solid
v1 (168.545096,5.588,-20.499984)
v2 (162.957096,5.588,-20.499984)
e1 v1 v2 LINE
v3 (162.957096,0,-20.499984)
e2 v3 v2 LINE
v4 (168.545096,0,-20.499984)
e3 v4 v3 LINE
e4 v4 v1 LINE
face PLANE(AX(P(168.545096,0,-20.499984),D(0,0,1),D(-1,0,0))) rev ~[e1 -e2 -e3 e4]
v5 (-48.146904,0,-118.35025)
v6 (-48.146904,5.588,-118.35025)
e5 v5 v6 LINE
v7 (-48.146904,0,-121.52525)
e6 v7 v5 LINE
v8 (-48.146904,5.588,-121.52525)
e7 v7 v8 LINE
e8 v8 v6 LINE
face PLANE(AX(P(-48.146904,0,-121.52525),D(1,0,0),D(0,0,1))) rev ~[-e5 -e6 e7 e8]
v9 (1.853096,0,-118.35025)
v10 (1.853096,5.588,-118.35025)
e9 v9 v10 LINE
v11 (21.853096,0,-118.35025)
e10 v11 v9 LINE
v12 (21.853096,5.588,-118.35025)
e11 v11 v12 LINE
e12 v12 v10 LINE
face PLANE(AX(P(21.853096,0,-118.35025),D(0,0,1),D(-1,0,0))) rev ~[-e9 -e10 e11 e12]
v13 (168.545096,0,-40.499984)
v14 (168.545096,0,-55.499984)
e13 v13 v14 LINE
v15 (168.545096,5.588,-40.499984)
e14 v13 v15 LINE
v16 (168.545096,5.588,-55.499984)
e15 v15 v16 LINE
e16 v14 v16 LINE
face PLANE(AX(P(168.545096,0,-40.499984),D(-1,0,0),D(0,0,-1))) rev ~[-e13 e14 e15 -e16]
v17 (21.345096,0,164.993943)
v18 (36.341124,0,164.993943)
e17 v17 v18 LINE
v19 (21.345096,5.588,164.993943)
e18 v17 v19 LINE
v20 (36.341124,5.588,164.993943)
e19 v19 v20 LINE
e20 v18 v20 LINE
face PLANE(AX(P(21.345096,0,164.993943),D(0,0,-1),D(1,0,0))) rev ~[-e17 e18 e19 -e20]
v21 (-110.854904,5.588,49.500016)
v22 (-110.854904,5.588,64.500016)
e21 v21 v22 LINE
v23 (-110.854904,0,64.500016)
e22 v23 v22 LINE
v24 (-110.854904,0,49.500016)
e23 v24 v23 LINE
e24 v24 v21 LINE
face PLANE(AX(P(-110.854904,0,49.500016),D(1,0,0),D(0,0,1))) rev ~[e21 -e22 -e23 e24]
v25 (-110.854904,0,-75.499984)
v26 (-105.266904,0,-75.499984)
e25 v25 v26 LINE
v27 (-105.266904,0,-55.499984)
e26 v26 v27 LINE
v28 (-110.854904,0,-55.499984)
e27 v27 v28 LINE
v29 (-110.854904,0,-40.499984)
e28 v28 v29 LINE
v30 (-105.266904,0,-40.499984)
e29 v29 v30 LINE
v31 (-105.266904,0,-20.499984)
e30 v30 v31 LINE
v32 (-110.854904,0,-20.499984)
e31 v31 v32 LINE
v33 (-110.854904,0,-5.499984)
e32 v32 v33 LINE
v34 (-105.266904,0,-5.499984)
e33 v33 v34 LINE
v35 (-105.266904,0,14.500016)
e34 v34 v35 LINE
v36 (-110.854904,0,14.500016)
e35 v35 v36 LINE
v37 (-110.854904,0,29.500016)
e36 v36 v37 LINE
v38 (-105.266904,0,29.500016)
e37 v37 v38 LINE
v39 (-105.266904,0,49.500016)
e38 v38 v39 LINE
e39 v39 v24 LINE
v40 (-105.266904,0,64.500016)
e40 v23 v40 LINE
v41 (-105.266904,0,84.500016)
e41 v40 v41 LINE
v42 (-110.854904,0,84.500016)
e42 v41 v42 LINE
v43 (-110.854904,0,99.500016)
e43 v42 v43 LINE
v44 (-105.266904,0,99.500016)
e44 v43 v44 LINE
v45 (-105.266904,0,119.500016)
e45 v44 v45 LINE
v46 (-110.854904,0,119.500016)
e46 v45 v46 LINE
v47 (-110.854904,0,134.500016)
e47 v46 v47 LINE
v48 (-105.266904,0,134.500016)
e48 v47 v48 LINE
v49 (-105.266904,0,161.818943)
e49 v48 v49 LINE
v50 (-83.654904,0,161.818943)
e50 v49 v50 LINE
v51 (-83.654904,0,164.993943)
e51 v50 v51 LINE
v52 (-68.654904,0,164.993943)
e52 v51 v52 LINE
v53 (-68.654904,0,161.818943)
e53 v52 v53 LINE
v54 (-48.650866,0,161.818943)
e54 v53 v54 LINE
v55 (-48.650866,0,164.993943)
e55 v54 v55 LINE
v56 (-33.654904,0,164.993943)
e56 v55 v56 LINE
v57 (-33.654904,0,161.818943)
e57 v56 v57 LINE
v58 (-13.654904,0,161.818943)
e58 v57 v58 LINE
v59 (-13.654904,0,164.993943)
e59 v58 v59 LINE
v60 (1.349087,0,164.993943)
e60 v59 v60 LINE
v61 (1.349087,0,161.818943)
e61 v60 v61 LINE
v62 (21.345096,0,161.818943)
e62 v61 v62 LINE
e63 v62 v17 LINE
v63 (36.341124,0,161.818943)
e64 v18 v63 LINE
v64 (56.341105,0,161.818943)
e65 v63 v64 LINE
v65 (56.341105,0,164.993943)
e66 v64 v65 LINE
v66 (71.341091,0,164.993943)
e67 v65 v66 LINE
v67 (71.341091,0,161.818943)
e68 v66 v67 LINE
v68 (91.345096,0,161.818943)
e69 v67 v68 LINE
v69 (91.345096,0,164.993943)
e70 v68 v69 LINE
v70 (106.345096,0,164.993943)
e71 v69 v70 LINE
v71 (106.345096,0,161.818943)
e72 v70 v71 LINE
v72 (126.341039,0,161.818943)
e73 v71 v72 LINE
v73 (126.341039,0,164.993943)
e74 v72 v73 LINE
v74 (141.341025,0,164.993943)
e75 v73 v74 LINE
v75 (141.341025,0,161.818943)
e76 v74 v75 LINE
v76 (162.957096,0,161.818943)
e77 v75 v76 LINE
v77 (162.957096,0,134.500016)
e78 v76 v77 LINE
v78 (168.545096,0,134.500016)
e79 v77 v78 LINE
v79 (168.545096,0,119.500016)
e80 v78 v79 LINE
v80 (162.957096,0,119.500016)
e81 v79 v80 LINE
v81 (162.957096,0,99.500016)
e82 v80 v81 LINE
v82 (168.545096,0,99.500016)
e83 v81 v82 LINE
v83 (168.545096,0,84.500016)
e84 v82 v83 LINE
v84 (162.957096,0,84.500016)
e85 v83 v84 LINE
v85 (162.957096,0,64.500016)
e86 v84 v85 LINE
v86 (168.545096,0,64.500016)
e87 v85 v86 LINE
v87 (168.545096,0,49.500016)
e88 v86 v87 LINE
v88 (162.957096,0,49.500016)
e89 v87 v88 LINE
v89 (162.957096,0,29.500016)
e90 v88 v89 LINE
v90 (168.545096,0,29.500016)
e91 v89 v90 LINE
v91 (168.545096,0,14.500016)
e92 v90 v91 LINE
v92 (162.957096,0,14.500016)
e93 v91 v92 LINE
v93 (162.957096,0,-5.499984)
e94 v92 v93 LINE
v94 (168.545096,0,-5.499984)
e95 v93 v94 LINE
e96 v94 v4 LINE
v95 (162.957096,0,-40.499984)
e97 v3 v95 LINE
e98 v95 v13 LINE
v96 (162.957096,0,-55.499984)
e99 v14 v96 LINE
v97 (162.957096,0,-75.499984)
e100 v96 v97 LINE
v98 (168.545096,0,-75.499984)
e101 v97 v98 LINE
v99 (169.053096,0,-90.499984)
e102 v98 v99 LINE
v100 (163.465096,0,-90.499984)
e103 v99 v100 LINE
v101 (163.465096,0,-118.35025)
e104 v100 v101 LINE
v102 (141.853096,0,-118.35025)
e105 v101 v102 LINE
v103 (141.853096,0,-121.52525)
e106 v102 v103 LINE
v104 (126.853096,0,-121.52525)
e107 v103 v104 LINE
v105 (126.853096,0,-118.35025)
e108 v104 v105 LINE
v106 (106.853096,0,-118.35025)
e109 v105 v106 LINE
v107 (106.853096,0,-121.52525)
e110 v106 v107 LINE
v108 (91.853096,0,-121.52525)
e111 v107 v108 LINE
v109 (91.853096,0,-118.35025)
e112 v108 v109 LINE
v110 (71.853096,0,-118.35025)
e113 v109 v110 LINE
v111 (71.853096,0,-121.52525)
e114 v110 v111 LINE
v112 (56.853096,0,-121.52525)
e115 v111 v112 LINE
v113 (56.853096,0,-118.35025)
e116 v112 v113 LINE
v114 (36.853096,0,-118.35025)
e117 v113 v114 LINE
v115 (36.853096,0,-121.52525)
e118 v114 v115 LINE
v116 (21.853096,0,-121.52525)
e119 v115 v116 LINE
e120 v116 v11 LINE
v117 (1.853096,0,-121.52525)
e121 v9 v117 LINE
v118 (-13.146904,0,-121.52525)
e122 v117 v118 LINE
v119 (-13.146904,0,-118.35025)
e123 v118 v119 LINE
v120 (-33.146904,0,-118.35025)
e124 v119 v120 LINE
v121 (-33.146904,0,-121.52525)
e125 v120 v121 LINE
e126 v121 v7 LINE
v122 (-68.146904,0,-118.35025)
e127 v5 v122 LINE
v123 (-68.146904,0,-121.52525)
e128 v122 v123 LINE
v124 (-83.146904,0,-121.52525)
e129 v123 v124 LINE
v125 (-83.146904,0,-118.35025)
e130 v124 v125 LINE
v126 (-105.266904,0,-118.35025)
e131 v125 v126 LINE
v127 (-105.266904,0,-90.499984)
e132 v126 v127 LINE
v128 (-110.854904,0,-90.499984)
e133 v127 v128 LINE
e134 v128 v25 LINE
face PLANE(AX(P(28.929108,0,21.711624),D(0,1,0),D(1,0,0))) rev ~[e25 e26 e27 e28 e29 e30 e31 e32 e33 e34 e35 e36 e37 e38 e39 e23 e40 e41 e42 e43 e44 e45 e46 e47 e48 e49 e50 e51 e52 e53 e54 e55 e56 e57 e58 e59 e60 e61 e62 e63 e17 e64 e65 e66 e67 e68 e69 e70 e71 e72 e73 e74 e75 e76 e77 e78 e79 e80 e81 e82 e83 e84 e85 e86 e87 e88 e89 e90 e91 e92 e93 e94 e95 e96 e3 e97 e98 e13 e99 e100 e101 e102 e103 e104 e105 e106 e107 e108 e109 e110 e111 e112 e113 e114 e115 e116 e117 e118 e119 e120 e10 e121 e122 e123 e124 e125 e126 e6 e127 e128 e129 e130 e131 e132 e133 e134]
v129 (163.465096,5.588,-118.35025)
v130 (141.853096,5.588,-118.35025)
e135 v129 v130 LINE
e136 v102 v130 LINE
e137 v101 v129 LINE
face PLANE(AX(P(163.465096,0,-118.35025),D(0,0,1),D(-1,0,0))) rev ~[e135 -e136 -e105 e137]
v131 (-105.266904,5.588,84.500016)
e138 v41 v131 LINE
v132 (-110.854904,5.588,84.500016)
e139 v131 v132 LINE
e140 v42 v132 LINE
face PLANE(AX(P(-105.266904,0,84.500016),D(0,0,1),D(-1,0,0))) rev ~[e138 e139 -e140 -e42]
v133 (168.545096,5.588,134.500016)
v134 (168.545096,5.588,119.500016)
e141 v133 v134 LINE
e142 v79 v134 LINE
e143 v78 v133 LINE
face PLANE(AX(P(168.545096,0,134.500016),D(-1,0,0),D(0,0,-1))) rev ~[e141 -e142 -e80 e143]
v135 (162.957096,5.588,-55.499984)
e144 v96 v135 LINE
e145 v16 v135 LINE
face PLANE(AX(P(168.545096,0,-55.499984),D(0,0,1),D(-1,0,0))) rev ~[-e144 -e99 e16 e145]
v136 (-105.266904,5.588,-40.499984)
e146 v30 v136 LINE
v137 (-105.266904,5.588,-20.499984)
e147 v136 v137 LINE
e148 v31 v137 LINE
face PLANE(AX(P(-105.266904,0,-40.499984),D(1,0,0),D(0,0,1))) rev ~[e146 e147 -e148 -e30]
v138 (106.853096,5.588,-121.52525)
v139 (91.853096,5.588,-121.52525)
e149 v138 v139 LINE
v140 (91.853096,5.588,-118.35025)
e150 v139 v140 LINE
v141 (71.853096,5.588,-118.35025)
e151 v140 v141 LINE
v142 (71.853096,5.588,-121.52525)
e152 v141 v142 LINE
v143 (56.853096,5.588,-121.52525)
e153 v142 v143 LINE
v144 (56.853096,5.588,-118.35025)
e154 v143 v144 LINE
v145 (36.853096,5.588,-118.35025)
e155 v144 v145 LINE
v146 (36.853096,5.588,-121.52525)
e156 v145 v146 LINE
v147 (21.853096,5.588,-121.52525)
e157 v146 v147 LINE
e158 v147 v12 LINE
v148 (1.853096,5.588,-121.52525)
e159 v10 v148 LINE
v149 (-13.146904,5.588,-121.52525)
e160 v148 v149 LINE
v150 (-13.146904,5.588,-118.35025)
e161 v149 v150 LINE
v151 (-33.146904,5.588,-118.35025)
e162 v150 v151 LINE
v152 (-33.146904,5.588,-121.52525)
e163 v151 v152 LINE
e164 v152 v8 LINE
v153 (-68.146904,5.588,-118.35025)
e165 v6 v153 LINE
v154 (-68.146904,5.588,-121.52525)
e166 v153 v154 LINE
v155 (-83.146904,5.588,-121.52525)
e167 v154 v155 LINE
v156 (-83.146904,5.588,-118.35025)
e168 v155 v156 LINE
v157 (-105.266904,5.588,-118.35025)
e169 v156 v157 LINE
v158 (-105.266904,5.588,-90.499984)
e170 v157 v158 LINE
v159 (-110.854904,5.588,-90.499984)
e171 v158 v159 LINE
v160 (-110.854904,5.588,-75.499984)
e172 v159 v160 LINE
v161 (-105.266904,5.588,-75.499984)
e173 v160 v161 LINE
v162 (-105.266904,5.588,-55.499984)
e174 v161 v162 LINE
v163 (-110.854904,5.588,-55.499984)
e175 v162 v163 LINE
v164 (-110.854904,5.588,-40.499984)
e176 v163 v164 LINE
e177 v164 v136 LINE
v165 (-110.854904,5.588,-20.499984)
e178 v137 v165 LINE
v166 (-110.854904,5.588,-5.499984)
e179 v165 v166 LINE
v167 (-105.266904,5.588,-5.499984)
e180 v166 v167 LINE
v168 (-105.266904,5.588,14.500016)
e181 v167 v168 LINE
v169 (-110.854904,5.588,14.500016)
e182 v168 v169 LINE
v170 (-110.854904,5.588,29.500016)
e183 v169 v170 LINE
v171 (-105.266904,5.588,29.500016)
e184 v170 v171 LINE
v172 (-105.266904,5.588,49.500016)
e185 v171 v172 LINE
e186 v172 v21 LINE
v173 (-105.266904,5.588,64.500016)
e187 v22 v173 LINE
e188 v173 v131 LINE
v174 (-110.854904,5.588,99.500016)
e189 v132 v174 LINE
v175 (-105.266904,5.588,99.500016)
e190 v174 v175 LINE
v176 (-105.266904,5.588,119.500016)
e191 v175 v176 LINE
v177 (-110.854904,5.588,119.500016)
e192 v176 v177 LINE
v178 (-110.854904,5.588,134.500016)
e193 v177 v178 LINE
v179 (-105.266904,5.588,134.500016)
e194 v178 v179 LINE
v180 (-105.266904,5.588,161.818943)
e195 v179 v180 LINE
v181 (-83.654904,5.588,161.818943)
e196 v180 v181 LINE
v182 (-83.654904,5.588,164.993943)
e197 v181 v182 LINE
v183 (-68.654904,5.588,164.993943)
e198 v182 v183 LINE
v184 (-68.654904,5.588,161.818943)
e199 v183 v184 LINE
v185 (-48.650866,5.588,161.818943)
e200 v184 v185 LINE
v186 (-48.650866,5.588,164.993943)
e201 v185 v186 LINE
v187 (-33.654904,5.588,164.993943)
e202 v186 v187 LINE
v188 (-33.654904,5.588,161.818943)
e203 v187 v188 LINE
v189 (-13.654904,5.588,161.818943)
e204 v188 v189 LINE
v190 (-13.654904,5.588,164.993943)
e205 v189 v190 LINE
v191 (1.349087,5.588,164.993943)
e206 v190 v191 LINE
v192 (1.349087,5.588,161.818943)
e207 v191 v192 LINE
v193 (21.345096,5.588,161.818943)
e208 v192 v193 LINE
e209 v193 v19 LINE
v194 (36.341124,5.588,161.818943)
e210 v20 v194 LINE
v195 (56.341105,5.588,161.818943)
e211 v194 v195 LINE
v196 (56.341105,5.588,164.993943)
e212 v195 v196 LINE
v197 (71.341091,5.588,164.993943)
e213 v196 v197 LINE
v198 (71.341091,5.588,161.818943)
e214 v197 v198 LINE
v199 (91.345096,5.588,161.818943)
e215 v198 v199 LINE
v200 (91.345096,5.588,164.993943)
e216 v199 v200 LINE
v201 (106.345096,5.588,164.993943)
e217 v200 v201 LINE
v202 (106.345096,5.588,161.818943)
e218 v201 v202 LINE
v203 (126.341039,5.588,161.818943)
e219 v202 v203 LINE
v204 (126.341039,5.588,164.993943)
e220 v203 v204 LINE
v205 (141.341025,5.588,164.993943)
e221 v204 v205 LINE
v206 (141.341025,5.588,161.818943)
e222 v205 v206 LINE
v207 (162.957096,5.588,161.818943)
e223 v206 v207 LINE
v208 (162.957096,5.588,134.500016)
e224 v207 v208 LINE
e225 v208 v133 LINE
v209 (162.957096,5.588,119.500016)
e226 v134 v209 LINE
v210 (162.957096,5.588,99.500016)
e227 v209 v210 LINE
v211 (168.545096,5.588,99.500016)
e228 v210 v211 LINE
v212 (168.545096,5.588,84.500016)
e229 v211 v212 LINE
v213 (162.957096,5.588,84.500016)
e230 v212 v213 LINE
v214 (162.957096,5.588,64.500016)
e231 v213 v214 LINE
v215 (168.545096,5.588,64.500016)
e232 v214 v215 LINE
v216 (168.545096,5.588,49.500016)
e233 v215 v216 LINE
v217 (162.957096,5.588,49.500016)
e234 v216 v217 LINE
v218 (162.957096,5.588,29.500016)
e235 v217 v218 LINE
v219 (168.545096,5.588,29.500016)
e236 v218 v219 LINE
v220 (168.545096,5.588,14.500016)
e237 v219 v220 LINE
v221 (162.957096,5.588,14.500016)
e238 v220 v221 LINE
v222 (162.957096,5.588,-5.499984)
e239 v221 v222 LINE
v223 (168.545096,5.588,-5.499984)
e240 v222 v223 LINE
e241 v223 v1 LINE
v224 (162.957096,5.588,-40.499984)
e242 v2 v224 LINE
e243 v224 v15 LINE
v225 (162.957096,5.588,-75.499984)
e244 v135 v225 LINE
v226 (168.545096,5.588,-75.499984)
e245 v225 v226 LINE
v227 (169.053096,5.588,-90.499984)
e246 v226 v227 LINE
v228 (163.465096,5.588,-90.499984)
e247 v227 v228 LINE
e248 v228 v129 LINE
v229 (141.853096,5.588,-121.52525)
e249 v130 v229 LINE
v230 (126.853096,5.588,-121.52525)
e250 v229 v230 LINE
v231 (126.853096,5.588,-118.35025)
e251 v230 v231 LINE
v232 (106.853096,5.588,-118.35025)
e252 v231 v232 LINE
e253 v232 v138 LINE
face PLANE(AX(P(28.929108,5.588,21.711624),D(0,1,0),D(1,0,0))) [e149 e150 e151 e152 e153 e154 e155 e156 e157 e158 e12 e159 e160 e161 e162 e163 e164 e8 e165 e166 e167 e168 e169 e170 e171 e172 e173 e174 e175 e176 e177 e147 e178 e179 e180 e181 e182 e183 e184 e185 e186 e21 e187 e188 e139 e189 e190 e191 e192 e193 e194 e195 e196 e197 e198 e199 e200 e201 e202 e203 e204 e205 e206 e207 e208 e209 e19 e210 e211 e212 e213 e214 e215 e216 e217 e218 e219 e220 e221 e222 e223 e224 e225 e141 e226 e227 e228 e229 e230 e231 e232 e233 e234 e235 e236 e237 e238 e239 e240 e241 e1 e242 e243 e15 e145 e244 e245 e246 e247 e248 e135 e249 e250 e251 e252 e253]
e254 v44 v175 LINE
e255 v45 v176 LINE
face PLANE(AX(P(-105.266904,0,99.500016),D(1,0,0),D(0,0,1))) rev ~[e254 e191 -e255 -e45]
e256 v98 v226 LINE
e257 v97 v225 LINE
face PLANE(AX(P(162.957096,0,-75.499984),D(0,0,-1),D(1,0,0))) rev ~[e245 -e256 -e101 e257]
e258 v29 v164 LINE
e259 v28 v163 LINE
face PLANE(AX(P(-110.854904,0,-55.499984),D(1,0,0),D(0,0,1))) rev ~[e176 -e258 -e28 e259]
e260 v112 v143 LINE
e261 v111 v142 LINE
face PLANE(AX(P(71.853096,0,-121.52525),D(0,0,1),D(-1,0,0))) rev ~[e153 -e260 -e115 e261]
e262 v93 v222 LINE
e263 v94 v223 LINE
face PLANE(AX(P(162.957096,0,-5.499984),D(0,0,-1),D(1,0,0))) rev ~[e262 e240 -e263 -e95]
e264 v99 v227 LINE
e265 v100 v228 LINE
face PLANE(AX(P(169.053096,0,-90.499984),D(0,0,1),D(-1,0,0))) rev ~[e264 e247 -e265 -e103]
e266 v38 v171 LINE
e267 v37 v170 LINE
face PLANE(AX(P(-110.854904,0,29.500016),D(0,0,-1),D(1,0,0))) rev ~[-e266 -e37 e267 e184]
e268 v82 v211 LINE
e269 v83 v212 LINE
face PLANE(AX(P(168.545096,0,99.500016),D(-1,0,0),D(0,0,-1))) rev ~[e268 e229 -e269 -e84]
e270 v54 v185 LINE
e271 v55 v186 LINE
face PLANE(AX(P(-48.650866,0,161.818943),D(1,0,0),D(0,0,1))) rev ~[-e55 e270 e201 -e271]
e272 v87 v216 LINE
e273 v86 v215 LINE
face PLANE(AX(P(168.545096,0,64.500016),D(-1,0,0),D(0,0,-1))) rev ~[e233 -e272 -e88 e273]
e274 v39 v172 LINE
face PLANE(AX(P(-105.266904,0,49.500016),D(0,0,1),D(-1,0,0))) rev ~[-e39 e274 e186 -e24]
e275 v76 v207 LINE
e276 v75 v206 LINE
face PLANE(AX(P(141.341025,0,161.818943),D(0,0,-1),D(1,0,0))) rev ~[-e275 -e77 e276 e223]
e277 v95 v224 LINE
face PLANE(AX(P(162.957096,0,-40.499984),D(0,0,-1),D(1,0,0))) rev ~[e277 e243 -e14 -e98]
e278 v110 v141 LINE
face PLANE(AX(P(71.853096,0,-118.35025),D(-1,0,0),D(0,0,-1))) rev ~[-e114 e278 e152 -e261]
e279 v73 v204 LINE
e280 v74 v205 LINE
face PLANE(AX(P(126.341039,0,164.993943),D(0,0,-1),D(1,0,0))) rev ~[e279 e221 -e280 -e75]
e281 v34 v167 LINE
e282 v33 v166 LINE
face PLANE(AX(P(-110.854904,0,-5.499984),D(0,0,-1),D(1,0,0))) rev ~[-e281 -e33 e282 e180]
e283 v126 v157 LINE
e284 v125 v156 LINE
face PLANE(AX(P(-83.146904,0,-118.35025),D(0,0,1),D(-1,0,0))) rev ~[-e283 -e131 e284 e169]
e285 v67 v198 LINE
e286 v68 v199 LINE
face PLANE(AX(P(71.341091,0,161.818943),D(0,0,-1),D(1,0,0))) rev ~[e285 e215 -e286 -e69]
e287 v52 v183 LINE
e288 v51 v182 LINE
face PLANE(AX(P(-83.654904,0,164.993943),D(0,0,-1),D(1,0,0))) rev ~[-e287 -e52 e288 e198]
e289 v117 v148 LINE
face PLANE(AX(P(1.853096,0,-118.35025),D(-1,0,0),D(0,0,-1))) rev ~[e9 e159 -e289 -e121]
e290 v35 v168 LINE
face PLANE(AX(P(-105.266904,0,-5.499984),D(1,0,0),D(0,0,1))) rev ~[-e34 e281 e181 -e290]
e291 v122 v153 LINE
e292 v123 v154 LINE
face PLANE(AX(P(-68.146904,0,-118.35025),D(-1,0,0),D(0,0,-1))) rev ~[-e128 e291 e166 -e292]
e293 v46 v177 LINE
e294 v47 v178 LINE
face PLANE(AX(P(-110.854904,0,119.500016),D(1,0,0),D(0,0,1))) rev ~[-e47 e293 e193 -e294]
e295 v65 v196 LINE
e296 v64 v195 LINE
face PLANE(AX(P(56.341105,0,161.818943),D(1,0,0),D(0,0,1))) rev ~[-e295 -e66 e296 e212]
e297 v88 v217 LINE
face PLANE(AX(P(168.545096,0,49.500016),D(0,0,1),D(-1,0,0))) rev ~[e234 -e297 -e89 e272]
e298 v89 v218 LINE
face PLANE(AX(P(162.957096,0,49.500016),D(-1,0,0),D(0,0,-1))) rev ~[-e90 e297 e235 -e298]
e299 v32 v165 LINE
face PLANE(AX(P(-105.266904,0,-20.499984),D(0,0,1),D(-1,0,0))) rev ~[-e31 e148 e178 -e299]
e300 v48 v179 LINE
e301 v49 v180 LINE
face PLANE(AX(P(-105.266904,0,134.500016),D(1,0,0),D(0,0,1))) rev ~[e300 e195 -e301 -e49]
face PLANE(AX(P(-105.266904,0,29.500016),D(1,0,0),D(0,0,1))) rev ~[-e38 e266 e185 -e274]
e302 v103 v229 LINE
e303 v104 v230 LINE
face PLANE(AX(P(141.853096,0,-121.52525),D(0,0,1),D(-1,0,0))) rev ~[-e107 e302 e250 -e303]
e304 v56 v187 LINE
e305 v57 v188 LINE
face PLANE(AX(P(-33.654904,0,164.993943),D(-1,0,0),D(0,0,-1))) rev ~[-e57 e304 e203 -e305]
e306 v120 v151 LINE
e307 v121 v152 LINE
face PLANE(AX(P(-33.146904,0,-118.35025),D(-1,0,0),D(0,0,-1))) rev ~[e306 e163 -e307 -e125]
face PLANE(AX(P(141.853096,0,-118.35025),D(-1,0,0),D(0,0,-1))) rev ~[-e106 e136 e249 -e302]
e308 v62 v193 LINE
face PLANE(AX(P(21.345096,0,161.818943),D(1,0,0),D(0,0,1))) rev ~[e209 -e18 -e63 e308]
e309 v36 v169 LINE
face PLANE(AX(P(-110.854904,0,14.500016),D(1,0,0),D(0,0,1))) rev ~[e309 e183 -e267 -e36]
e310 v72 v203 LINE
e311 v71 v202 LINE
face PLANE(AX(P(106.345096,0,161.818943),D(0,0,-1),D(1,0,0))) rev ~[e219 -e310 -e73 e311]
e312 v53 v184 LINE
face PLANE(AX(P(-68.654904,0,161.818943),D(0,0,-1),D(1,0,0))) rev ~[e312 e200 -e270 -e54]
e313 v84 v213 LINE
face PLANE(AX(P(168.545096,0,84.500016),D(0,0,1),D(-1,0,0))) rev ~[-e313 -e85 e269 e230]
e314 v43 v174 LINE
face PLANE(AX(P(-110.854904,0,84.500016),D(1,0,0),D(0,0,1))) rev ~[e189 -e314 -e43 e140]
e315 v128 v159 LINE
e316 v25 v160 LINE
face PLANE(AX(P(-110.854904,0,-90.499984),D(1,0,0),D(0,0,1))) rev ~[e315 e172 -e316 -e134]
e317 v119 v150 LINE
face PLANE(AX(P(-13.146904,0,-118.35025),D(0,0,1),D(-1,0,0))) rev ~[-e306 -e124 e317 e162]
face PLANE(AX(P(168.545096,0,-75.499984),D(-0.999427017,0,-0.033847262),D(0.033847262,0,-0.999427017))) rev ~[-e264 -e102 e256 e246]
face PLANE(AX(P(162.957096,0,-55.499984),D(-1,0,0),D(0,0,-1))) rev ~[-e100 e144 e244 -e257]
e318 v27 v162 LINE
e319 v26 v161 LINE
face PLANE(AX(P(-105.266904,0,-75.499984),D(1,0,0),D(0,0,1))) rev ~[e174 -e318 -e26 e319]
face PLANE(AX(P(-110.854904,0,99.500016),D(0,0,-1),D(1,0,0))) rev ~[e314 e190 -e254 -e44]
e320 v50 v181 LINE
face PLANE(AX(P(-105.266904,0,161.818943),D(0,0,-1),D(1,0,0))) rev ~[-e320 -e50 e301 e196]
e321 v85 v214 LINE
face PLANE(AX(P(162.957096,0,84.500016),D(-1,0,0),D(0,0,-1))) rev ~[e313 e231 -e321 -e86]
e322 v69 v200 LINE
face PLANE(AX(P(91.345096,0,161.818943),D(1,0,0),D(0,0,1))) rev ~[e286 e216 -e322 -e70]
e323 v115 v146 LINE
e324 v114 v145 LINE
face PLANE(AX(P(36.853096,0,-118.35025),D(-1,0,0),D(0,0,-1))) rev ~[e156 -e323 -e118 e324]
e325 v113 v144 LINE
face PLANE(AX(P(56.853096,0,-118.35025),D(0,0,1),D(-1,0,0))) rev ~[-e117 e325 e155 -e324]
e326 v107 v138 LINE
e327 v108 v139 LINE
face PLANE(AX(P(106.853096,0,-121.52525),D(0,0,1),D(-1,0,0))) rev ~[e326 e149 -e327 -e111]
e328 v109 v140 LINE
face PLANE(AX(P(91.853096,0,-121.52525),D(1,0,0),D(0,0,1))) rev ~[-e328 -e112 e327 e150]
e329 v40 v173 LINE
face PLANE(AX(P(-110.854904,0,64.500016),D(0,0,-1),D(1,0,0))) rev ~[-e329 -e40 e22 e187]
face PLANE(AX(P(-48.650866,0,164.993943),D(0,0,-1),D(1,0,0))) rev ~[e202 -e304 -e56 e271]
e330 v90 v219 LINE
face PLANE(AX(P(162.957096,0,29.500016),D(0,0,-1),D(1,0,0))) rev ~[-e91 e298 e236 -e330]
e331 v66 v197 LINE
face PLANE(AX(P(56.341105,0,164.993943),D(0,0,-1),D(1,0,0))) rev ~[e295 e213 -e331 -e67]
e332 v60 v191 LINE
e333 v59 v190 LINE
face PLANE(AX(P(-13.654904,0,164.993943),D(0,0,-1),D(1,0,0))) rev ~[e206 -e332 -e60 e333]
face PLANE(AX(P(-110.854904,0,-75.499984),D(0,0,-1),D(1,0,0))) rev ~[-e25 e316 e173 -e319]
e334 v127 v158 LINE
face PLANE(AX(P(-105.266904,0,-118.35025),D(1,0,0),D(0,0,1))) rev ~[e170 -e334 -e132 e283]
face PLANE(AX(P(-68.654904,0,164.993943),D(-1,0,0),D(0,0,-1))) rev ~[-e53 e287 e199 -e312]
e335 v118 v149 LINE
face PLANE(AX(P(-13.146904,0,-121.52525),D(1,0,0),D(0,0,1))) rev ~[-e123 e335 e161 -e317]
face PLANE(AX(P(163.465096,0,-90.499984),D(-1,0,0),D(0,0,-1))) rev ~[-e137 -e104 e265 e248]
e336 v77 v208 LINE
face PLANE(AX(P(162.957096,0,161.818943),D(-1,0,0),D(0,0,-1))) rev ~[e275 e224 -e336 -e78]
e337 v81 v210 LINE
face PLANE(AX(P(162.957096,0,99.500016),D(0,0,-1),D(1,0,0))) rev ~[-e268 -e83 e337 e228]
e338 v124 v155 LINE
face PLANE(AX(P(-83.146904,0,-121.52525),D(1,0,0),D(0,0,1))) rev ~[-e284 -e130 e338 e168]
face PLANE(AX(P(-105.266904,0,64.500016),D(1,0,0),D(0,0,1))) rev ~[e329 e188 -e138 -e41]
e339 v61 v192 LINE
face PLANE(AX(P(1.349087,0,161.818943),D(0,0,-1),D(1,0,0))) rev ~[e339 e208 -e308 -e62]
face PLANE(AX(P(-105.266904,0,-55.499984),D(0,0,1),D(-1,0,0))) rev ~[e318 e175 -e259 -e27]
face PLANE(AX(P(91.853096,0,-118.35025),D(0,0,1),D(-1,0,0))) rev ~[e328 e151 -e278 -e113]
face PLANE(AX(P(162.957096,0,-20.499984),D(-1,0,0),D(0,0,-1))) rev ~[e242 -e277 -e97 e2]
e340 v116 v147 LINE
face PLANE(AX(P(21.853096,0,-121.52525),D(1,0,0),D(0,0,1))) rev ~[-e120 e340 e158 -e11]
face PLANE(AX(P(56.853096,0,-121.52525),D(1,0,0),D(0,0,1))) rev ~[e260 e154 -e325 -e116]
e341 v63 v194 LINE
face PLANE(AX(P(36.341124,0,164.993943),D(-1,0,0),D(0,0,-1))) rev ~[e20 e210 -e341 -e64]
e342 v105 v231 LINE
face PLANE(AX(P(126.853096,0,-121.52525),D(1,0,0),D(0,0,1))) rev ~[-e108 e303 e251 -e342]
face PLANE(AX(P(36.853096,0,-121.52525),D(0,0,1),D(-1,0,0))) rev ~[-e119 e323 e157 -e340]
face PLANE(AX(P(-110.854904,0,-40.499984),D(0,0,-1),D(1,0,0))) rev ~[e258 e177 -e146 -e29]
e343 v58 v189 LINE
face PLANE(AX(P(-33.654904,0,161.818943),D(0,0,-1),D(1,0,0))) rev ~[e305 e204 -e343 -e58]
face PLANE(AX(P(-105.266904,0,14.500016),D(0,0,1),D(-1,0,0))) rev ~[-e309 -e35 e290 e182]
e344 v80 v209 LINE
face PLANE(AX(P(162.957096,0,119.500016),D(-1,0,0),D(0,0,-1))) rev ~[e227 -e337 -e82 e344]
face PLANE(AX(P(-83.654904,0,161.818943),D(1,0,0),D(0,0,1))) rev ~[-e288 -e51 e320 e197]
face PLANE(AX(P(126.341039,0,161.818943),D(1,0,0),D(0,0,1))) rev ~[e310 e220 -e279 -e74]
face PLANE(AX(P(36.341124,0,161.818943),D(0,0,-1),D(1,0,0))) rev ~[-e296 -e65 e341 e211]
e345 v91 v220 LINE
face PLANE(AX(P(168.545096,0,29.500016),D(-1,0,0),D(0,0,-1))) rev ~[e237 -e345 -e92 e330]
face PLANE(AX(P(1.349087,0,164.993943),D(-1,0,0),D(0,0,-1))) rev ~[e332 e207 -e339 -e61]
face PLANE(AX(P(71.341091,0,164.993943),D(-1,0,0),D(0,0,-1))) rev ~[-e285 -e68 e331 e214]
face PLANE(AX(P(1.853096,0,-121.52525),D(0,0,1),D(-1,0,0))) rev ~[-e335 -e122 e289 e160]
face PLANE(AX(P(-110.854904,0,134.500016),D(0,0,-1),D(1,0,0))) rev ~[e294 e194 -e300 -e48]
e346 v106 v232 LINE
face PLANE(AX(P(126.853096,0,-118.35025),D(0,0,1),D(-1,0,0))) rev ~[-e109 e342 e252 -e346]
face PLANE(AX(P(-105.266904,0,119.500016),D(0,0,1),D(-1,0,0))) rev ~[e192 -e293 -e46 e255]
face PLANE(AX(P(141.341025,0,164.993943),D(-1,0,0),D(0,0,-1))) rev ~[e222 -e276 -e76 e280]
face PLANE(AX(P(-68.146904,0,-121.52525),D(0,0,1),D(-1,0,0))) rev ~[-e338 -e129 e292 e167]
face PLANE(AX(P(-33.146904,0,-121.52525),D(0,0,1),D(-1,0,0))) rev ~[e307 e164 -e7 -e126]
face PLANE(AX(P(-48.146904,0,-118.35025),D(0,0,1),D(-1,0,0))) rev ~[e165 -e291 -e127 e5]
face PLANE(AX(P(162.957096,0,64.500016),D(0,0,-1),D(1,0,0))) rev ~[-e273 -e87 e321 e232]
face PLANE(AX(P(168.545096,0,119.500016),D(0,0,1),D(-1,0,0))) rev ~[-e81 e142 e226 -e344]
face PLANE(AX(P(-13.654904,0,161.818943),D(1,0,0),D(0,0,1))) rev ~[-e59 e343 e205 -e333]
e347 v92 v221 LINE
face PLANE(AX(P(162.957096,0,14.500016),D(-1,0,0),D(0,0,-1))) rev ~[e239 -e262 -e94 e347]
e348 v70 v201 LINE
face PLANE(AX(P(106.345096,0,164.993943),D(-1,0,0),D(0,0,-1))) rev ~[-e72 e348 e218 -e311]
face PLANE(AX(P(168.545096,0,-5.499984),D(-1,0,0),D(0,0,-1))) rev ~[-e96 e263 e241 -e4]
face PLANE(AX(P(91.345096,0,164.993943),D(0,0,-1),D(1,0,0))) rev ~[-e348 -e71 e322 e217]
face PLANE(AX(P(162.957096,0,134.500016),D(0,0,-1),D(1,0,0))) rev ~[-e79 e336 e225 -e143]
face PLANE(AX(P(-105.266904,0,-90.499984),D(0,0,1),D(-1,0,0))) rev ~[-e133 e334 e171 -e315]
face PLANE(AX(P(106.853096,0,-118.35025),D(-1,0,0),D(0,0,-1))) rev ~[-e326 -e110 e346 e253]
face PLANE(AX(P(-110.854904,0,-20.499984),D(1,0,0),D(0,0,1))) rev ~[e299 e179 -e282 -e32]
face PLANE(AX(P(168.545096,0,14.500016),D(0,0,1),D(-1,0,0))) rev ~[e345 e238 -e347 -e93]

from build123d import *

# Parameters (mm, degrees)
BOSS_EXTRUDE1_DEPTH = 5.588


with BuildPart() as part:
    # Sketch1 → Boss-Extrude1 (new body)
    with BuildSketch(Plane(origin=(0, 0, 0), x_dir=(1, 0, 0), z_dir=(0, 1, 0))):
        Polygon((126.341039054, -164.993943005), (141.341024892, -164.993943005), (141.341024892, -161.818943005), (162.95709589, -161.818943005), (162.95709589, -134.500016194), (168.54509589, -134.500016194), (168.54509589, -119.500016194), (162.95709589, -119.500016194), (162.95709589, -99.500016194), (168.54509589, -99.500016194), (168.54509589, -84.500016194), (162.95709589, -84.500016194), (162.95709589, -64.500016194), (168.54509589, -64.500016194), (168.54509589, -49.500016194), (162.95709589, -49.500016194), (162.95709589, -29.500016194), (168.54509589, -29.500016194), (168.54509589, -14.500016194), (162.95709589, -14.500016194), (162.95709589, 5.499983806), (168.54509589, 5.499983806), (168.54509589, 20.499983806), (162.95709589, 20.499983806), (162.95709589, 40.499983806), (168.54509589, 40.499983806), (168.54509589, 55.499983806), (162.95709589, 55.499983806), (162.95709589, 75.499983806), (168.54509589, 75.499983806), (169.05309589, 90.499983806), (163.46509589, 90.499983806), (163.46509589, 118.350250113), (141.85309589, 118.350250113), (141.85309589, 121.525250113), (126.85309589, 121.525250113), (126.85309589, 118.350250113), (106.85309589, 118.350250113), (106.85309589, 121.525250113), (91.85309589, 121.525250113), (91.85309589, 118.350250113), (71.85309589, 118.350250113), (71.85309589, 121.525250113), (56.85309589, 121.525250113), (56.85309589, 118.350250113), (36.85309589, 118.350250113), (36.85309589, 121.525250113), (21.85309589, 121.525250113), (21.85309589, 118.350250113), (1.85309589, 118.350250113), (1.85309589, 121.525250113), (-13.14690411, 121.525250113), (-13.14690411, 118.350250113), (-33.14690411, 118.350250113), (-33.14690411, 121.525250113), (-48.14690411, 121.525250113), (-48.14690411, 118.350250113), (-68.14690411, 118.350250113), (-68.14690411, 121.525250113), (-83.14690411, 121.525250113), (-83.14690411, 118.350250113), (-105.26690411, 118.350250113), (-105.26690411, 90.499983806), (-110.85490411, 90.499983806), (-110.85490411, 75.499983806), (-105.26690411, 75.499983806), (-105.26690411, 55.499983806), (-110.85490411, 55.499983806), (-110.85490411, 40.499983806), (-105.26690411, 40.499983806), (-105.26690411, 20.499983806), (-110.85490411, 20.499983806), (-110.85490411, 5.499983806), (-105.26690411, 5.499983806), (-105.26690411, -14.500016194), (-110.85490411, -14.500016194), (-110.85490411, -29.500016194), (-105.26690411, -29.500016194), (-105.26690411, -49.500016194), (-110.85490411, -49.500016194), (-110.85490411, -64.500016194), (-105.26690411, -64.500016194), (-105.26690411, -84.500016194), (-110.85490411, -84.500016194), (-110.85490411, -99.500016194), (-105.26690411, -99.500016194), (-105.26690411, -119.500016194), (-110.85490411, -119.500016194), (-110.85490411, -134.500016194), (-105.26690411, -134.500016194), (-105.26690411, -161.818943005), (-83.65490411, -161.818943005), (-83.65490411, -164.993943005), (-68.65490411, -164.993943005), (-68.65490411, -161.818943005), (-48.650866156, -161.818943005), (-48.650866156, -164.993943005), (-33.65490411, -164.993943005), (-33.65490411, -161.818943005), (-13.65490411, -161.818943005), (-13.65490411, -164.993943005), (1.349086638, -164.993943005), (1.349086638, -161.818943005), (21.34509589, -161.818943005), (21.34509589, -164.993943005), (36.341124024, -164.993943005), (36.341124024, -161.818943005), (56.341105142, -161.818943005), (56.341105142, -164.993943005), (71.34109098, -164.993943005), (71.34109098, -161.818943005), (91.34509589, -161.818943005), (91.34509589, -164.993943005), (106.34509589, -164.993943005), (106.34509589, -161.818943005), (126.341039054, -161.818943005), align=None)
    extrude(amount=BOSS_EXTRUDE1_DEPTH)


solid = part.part
